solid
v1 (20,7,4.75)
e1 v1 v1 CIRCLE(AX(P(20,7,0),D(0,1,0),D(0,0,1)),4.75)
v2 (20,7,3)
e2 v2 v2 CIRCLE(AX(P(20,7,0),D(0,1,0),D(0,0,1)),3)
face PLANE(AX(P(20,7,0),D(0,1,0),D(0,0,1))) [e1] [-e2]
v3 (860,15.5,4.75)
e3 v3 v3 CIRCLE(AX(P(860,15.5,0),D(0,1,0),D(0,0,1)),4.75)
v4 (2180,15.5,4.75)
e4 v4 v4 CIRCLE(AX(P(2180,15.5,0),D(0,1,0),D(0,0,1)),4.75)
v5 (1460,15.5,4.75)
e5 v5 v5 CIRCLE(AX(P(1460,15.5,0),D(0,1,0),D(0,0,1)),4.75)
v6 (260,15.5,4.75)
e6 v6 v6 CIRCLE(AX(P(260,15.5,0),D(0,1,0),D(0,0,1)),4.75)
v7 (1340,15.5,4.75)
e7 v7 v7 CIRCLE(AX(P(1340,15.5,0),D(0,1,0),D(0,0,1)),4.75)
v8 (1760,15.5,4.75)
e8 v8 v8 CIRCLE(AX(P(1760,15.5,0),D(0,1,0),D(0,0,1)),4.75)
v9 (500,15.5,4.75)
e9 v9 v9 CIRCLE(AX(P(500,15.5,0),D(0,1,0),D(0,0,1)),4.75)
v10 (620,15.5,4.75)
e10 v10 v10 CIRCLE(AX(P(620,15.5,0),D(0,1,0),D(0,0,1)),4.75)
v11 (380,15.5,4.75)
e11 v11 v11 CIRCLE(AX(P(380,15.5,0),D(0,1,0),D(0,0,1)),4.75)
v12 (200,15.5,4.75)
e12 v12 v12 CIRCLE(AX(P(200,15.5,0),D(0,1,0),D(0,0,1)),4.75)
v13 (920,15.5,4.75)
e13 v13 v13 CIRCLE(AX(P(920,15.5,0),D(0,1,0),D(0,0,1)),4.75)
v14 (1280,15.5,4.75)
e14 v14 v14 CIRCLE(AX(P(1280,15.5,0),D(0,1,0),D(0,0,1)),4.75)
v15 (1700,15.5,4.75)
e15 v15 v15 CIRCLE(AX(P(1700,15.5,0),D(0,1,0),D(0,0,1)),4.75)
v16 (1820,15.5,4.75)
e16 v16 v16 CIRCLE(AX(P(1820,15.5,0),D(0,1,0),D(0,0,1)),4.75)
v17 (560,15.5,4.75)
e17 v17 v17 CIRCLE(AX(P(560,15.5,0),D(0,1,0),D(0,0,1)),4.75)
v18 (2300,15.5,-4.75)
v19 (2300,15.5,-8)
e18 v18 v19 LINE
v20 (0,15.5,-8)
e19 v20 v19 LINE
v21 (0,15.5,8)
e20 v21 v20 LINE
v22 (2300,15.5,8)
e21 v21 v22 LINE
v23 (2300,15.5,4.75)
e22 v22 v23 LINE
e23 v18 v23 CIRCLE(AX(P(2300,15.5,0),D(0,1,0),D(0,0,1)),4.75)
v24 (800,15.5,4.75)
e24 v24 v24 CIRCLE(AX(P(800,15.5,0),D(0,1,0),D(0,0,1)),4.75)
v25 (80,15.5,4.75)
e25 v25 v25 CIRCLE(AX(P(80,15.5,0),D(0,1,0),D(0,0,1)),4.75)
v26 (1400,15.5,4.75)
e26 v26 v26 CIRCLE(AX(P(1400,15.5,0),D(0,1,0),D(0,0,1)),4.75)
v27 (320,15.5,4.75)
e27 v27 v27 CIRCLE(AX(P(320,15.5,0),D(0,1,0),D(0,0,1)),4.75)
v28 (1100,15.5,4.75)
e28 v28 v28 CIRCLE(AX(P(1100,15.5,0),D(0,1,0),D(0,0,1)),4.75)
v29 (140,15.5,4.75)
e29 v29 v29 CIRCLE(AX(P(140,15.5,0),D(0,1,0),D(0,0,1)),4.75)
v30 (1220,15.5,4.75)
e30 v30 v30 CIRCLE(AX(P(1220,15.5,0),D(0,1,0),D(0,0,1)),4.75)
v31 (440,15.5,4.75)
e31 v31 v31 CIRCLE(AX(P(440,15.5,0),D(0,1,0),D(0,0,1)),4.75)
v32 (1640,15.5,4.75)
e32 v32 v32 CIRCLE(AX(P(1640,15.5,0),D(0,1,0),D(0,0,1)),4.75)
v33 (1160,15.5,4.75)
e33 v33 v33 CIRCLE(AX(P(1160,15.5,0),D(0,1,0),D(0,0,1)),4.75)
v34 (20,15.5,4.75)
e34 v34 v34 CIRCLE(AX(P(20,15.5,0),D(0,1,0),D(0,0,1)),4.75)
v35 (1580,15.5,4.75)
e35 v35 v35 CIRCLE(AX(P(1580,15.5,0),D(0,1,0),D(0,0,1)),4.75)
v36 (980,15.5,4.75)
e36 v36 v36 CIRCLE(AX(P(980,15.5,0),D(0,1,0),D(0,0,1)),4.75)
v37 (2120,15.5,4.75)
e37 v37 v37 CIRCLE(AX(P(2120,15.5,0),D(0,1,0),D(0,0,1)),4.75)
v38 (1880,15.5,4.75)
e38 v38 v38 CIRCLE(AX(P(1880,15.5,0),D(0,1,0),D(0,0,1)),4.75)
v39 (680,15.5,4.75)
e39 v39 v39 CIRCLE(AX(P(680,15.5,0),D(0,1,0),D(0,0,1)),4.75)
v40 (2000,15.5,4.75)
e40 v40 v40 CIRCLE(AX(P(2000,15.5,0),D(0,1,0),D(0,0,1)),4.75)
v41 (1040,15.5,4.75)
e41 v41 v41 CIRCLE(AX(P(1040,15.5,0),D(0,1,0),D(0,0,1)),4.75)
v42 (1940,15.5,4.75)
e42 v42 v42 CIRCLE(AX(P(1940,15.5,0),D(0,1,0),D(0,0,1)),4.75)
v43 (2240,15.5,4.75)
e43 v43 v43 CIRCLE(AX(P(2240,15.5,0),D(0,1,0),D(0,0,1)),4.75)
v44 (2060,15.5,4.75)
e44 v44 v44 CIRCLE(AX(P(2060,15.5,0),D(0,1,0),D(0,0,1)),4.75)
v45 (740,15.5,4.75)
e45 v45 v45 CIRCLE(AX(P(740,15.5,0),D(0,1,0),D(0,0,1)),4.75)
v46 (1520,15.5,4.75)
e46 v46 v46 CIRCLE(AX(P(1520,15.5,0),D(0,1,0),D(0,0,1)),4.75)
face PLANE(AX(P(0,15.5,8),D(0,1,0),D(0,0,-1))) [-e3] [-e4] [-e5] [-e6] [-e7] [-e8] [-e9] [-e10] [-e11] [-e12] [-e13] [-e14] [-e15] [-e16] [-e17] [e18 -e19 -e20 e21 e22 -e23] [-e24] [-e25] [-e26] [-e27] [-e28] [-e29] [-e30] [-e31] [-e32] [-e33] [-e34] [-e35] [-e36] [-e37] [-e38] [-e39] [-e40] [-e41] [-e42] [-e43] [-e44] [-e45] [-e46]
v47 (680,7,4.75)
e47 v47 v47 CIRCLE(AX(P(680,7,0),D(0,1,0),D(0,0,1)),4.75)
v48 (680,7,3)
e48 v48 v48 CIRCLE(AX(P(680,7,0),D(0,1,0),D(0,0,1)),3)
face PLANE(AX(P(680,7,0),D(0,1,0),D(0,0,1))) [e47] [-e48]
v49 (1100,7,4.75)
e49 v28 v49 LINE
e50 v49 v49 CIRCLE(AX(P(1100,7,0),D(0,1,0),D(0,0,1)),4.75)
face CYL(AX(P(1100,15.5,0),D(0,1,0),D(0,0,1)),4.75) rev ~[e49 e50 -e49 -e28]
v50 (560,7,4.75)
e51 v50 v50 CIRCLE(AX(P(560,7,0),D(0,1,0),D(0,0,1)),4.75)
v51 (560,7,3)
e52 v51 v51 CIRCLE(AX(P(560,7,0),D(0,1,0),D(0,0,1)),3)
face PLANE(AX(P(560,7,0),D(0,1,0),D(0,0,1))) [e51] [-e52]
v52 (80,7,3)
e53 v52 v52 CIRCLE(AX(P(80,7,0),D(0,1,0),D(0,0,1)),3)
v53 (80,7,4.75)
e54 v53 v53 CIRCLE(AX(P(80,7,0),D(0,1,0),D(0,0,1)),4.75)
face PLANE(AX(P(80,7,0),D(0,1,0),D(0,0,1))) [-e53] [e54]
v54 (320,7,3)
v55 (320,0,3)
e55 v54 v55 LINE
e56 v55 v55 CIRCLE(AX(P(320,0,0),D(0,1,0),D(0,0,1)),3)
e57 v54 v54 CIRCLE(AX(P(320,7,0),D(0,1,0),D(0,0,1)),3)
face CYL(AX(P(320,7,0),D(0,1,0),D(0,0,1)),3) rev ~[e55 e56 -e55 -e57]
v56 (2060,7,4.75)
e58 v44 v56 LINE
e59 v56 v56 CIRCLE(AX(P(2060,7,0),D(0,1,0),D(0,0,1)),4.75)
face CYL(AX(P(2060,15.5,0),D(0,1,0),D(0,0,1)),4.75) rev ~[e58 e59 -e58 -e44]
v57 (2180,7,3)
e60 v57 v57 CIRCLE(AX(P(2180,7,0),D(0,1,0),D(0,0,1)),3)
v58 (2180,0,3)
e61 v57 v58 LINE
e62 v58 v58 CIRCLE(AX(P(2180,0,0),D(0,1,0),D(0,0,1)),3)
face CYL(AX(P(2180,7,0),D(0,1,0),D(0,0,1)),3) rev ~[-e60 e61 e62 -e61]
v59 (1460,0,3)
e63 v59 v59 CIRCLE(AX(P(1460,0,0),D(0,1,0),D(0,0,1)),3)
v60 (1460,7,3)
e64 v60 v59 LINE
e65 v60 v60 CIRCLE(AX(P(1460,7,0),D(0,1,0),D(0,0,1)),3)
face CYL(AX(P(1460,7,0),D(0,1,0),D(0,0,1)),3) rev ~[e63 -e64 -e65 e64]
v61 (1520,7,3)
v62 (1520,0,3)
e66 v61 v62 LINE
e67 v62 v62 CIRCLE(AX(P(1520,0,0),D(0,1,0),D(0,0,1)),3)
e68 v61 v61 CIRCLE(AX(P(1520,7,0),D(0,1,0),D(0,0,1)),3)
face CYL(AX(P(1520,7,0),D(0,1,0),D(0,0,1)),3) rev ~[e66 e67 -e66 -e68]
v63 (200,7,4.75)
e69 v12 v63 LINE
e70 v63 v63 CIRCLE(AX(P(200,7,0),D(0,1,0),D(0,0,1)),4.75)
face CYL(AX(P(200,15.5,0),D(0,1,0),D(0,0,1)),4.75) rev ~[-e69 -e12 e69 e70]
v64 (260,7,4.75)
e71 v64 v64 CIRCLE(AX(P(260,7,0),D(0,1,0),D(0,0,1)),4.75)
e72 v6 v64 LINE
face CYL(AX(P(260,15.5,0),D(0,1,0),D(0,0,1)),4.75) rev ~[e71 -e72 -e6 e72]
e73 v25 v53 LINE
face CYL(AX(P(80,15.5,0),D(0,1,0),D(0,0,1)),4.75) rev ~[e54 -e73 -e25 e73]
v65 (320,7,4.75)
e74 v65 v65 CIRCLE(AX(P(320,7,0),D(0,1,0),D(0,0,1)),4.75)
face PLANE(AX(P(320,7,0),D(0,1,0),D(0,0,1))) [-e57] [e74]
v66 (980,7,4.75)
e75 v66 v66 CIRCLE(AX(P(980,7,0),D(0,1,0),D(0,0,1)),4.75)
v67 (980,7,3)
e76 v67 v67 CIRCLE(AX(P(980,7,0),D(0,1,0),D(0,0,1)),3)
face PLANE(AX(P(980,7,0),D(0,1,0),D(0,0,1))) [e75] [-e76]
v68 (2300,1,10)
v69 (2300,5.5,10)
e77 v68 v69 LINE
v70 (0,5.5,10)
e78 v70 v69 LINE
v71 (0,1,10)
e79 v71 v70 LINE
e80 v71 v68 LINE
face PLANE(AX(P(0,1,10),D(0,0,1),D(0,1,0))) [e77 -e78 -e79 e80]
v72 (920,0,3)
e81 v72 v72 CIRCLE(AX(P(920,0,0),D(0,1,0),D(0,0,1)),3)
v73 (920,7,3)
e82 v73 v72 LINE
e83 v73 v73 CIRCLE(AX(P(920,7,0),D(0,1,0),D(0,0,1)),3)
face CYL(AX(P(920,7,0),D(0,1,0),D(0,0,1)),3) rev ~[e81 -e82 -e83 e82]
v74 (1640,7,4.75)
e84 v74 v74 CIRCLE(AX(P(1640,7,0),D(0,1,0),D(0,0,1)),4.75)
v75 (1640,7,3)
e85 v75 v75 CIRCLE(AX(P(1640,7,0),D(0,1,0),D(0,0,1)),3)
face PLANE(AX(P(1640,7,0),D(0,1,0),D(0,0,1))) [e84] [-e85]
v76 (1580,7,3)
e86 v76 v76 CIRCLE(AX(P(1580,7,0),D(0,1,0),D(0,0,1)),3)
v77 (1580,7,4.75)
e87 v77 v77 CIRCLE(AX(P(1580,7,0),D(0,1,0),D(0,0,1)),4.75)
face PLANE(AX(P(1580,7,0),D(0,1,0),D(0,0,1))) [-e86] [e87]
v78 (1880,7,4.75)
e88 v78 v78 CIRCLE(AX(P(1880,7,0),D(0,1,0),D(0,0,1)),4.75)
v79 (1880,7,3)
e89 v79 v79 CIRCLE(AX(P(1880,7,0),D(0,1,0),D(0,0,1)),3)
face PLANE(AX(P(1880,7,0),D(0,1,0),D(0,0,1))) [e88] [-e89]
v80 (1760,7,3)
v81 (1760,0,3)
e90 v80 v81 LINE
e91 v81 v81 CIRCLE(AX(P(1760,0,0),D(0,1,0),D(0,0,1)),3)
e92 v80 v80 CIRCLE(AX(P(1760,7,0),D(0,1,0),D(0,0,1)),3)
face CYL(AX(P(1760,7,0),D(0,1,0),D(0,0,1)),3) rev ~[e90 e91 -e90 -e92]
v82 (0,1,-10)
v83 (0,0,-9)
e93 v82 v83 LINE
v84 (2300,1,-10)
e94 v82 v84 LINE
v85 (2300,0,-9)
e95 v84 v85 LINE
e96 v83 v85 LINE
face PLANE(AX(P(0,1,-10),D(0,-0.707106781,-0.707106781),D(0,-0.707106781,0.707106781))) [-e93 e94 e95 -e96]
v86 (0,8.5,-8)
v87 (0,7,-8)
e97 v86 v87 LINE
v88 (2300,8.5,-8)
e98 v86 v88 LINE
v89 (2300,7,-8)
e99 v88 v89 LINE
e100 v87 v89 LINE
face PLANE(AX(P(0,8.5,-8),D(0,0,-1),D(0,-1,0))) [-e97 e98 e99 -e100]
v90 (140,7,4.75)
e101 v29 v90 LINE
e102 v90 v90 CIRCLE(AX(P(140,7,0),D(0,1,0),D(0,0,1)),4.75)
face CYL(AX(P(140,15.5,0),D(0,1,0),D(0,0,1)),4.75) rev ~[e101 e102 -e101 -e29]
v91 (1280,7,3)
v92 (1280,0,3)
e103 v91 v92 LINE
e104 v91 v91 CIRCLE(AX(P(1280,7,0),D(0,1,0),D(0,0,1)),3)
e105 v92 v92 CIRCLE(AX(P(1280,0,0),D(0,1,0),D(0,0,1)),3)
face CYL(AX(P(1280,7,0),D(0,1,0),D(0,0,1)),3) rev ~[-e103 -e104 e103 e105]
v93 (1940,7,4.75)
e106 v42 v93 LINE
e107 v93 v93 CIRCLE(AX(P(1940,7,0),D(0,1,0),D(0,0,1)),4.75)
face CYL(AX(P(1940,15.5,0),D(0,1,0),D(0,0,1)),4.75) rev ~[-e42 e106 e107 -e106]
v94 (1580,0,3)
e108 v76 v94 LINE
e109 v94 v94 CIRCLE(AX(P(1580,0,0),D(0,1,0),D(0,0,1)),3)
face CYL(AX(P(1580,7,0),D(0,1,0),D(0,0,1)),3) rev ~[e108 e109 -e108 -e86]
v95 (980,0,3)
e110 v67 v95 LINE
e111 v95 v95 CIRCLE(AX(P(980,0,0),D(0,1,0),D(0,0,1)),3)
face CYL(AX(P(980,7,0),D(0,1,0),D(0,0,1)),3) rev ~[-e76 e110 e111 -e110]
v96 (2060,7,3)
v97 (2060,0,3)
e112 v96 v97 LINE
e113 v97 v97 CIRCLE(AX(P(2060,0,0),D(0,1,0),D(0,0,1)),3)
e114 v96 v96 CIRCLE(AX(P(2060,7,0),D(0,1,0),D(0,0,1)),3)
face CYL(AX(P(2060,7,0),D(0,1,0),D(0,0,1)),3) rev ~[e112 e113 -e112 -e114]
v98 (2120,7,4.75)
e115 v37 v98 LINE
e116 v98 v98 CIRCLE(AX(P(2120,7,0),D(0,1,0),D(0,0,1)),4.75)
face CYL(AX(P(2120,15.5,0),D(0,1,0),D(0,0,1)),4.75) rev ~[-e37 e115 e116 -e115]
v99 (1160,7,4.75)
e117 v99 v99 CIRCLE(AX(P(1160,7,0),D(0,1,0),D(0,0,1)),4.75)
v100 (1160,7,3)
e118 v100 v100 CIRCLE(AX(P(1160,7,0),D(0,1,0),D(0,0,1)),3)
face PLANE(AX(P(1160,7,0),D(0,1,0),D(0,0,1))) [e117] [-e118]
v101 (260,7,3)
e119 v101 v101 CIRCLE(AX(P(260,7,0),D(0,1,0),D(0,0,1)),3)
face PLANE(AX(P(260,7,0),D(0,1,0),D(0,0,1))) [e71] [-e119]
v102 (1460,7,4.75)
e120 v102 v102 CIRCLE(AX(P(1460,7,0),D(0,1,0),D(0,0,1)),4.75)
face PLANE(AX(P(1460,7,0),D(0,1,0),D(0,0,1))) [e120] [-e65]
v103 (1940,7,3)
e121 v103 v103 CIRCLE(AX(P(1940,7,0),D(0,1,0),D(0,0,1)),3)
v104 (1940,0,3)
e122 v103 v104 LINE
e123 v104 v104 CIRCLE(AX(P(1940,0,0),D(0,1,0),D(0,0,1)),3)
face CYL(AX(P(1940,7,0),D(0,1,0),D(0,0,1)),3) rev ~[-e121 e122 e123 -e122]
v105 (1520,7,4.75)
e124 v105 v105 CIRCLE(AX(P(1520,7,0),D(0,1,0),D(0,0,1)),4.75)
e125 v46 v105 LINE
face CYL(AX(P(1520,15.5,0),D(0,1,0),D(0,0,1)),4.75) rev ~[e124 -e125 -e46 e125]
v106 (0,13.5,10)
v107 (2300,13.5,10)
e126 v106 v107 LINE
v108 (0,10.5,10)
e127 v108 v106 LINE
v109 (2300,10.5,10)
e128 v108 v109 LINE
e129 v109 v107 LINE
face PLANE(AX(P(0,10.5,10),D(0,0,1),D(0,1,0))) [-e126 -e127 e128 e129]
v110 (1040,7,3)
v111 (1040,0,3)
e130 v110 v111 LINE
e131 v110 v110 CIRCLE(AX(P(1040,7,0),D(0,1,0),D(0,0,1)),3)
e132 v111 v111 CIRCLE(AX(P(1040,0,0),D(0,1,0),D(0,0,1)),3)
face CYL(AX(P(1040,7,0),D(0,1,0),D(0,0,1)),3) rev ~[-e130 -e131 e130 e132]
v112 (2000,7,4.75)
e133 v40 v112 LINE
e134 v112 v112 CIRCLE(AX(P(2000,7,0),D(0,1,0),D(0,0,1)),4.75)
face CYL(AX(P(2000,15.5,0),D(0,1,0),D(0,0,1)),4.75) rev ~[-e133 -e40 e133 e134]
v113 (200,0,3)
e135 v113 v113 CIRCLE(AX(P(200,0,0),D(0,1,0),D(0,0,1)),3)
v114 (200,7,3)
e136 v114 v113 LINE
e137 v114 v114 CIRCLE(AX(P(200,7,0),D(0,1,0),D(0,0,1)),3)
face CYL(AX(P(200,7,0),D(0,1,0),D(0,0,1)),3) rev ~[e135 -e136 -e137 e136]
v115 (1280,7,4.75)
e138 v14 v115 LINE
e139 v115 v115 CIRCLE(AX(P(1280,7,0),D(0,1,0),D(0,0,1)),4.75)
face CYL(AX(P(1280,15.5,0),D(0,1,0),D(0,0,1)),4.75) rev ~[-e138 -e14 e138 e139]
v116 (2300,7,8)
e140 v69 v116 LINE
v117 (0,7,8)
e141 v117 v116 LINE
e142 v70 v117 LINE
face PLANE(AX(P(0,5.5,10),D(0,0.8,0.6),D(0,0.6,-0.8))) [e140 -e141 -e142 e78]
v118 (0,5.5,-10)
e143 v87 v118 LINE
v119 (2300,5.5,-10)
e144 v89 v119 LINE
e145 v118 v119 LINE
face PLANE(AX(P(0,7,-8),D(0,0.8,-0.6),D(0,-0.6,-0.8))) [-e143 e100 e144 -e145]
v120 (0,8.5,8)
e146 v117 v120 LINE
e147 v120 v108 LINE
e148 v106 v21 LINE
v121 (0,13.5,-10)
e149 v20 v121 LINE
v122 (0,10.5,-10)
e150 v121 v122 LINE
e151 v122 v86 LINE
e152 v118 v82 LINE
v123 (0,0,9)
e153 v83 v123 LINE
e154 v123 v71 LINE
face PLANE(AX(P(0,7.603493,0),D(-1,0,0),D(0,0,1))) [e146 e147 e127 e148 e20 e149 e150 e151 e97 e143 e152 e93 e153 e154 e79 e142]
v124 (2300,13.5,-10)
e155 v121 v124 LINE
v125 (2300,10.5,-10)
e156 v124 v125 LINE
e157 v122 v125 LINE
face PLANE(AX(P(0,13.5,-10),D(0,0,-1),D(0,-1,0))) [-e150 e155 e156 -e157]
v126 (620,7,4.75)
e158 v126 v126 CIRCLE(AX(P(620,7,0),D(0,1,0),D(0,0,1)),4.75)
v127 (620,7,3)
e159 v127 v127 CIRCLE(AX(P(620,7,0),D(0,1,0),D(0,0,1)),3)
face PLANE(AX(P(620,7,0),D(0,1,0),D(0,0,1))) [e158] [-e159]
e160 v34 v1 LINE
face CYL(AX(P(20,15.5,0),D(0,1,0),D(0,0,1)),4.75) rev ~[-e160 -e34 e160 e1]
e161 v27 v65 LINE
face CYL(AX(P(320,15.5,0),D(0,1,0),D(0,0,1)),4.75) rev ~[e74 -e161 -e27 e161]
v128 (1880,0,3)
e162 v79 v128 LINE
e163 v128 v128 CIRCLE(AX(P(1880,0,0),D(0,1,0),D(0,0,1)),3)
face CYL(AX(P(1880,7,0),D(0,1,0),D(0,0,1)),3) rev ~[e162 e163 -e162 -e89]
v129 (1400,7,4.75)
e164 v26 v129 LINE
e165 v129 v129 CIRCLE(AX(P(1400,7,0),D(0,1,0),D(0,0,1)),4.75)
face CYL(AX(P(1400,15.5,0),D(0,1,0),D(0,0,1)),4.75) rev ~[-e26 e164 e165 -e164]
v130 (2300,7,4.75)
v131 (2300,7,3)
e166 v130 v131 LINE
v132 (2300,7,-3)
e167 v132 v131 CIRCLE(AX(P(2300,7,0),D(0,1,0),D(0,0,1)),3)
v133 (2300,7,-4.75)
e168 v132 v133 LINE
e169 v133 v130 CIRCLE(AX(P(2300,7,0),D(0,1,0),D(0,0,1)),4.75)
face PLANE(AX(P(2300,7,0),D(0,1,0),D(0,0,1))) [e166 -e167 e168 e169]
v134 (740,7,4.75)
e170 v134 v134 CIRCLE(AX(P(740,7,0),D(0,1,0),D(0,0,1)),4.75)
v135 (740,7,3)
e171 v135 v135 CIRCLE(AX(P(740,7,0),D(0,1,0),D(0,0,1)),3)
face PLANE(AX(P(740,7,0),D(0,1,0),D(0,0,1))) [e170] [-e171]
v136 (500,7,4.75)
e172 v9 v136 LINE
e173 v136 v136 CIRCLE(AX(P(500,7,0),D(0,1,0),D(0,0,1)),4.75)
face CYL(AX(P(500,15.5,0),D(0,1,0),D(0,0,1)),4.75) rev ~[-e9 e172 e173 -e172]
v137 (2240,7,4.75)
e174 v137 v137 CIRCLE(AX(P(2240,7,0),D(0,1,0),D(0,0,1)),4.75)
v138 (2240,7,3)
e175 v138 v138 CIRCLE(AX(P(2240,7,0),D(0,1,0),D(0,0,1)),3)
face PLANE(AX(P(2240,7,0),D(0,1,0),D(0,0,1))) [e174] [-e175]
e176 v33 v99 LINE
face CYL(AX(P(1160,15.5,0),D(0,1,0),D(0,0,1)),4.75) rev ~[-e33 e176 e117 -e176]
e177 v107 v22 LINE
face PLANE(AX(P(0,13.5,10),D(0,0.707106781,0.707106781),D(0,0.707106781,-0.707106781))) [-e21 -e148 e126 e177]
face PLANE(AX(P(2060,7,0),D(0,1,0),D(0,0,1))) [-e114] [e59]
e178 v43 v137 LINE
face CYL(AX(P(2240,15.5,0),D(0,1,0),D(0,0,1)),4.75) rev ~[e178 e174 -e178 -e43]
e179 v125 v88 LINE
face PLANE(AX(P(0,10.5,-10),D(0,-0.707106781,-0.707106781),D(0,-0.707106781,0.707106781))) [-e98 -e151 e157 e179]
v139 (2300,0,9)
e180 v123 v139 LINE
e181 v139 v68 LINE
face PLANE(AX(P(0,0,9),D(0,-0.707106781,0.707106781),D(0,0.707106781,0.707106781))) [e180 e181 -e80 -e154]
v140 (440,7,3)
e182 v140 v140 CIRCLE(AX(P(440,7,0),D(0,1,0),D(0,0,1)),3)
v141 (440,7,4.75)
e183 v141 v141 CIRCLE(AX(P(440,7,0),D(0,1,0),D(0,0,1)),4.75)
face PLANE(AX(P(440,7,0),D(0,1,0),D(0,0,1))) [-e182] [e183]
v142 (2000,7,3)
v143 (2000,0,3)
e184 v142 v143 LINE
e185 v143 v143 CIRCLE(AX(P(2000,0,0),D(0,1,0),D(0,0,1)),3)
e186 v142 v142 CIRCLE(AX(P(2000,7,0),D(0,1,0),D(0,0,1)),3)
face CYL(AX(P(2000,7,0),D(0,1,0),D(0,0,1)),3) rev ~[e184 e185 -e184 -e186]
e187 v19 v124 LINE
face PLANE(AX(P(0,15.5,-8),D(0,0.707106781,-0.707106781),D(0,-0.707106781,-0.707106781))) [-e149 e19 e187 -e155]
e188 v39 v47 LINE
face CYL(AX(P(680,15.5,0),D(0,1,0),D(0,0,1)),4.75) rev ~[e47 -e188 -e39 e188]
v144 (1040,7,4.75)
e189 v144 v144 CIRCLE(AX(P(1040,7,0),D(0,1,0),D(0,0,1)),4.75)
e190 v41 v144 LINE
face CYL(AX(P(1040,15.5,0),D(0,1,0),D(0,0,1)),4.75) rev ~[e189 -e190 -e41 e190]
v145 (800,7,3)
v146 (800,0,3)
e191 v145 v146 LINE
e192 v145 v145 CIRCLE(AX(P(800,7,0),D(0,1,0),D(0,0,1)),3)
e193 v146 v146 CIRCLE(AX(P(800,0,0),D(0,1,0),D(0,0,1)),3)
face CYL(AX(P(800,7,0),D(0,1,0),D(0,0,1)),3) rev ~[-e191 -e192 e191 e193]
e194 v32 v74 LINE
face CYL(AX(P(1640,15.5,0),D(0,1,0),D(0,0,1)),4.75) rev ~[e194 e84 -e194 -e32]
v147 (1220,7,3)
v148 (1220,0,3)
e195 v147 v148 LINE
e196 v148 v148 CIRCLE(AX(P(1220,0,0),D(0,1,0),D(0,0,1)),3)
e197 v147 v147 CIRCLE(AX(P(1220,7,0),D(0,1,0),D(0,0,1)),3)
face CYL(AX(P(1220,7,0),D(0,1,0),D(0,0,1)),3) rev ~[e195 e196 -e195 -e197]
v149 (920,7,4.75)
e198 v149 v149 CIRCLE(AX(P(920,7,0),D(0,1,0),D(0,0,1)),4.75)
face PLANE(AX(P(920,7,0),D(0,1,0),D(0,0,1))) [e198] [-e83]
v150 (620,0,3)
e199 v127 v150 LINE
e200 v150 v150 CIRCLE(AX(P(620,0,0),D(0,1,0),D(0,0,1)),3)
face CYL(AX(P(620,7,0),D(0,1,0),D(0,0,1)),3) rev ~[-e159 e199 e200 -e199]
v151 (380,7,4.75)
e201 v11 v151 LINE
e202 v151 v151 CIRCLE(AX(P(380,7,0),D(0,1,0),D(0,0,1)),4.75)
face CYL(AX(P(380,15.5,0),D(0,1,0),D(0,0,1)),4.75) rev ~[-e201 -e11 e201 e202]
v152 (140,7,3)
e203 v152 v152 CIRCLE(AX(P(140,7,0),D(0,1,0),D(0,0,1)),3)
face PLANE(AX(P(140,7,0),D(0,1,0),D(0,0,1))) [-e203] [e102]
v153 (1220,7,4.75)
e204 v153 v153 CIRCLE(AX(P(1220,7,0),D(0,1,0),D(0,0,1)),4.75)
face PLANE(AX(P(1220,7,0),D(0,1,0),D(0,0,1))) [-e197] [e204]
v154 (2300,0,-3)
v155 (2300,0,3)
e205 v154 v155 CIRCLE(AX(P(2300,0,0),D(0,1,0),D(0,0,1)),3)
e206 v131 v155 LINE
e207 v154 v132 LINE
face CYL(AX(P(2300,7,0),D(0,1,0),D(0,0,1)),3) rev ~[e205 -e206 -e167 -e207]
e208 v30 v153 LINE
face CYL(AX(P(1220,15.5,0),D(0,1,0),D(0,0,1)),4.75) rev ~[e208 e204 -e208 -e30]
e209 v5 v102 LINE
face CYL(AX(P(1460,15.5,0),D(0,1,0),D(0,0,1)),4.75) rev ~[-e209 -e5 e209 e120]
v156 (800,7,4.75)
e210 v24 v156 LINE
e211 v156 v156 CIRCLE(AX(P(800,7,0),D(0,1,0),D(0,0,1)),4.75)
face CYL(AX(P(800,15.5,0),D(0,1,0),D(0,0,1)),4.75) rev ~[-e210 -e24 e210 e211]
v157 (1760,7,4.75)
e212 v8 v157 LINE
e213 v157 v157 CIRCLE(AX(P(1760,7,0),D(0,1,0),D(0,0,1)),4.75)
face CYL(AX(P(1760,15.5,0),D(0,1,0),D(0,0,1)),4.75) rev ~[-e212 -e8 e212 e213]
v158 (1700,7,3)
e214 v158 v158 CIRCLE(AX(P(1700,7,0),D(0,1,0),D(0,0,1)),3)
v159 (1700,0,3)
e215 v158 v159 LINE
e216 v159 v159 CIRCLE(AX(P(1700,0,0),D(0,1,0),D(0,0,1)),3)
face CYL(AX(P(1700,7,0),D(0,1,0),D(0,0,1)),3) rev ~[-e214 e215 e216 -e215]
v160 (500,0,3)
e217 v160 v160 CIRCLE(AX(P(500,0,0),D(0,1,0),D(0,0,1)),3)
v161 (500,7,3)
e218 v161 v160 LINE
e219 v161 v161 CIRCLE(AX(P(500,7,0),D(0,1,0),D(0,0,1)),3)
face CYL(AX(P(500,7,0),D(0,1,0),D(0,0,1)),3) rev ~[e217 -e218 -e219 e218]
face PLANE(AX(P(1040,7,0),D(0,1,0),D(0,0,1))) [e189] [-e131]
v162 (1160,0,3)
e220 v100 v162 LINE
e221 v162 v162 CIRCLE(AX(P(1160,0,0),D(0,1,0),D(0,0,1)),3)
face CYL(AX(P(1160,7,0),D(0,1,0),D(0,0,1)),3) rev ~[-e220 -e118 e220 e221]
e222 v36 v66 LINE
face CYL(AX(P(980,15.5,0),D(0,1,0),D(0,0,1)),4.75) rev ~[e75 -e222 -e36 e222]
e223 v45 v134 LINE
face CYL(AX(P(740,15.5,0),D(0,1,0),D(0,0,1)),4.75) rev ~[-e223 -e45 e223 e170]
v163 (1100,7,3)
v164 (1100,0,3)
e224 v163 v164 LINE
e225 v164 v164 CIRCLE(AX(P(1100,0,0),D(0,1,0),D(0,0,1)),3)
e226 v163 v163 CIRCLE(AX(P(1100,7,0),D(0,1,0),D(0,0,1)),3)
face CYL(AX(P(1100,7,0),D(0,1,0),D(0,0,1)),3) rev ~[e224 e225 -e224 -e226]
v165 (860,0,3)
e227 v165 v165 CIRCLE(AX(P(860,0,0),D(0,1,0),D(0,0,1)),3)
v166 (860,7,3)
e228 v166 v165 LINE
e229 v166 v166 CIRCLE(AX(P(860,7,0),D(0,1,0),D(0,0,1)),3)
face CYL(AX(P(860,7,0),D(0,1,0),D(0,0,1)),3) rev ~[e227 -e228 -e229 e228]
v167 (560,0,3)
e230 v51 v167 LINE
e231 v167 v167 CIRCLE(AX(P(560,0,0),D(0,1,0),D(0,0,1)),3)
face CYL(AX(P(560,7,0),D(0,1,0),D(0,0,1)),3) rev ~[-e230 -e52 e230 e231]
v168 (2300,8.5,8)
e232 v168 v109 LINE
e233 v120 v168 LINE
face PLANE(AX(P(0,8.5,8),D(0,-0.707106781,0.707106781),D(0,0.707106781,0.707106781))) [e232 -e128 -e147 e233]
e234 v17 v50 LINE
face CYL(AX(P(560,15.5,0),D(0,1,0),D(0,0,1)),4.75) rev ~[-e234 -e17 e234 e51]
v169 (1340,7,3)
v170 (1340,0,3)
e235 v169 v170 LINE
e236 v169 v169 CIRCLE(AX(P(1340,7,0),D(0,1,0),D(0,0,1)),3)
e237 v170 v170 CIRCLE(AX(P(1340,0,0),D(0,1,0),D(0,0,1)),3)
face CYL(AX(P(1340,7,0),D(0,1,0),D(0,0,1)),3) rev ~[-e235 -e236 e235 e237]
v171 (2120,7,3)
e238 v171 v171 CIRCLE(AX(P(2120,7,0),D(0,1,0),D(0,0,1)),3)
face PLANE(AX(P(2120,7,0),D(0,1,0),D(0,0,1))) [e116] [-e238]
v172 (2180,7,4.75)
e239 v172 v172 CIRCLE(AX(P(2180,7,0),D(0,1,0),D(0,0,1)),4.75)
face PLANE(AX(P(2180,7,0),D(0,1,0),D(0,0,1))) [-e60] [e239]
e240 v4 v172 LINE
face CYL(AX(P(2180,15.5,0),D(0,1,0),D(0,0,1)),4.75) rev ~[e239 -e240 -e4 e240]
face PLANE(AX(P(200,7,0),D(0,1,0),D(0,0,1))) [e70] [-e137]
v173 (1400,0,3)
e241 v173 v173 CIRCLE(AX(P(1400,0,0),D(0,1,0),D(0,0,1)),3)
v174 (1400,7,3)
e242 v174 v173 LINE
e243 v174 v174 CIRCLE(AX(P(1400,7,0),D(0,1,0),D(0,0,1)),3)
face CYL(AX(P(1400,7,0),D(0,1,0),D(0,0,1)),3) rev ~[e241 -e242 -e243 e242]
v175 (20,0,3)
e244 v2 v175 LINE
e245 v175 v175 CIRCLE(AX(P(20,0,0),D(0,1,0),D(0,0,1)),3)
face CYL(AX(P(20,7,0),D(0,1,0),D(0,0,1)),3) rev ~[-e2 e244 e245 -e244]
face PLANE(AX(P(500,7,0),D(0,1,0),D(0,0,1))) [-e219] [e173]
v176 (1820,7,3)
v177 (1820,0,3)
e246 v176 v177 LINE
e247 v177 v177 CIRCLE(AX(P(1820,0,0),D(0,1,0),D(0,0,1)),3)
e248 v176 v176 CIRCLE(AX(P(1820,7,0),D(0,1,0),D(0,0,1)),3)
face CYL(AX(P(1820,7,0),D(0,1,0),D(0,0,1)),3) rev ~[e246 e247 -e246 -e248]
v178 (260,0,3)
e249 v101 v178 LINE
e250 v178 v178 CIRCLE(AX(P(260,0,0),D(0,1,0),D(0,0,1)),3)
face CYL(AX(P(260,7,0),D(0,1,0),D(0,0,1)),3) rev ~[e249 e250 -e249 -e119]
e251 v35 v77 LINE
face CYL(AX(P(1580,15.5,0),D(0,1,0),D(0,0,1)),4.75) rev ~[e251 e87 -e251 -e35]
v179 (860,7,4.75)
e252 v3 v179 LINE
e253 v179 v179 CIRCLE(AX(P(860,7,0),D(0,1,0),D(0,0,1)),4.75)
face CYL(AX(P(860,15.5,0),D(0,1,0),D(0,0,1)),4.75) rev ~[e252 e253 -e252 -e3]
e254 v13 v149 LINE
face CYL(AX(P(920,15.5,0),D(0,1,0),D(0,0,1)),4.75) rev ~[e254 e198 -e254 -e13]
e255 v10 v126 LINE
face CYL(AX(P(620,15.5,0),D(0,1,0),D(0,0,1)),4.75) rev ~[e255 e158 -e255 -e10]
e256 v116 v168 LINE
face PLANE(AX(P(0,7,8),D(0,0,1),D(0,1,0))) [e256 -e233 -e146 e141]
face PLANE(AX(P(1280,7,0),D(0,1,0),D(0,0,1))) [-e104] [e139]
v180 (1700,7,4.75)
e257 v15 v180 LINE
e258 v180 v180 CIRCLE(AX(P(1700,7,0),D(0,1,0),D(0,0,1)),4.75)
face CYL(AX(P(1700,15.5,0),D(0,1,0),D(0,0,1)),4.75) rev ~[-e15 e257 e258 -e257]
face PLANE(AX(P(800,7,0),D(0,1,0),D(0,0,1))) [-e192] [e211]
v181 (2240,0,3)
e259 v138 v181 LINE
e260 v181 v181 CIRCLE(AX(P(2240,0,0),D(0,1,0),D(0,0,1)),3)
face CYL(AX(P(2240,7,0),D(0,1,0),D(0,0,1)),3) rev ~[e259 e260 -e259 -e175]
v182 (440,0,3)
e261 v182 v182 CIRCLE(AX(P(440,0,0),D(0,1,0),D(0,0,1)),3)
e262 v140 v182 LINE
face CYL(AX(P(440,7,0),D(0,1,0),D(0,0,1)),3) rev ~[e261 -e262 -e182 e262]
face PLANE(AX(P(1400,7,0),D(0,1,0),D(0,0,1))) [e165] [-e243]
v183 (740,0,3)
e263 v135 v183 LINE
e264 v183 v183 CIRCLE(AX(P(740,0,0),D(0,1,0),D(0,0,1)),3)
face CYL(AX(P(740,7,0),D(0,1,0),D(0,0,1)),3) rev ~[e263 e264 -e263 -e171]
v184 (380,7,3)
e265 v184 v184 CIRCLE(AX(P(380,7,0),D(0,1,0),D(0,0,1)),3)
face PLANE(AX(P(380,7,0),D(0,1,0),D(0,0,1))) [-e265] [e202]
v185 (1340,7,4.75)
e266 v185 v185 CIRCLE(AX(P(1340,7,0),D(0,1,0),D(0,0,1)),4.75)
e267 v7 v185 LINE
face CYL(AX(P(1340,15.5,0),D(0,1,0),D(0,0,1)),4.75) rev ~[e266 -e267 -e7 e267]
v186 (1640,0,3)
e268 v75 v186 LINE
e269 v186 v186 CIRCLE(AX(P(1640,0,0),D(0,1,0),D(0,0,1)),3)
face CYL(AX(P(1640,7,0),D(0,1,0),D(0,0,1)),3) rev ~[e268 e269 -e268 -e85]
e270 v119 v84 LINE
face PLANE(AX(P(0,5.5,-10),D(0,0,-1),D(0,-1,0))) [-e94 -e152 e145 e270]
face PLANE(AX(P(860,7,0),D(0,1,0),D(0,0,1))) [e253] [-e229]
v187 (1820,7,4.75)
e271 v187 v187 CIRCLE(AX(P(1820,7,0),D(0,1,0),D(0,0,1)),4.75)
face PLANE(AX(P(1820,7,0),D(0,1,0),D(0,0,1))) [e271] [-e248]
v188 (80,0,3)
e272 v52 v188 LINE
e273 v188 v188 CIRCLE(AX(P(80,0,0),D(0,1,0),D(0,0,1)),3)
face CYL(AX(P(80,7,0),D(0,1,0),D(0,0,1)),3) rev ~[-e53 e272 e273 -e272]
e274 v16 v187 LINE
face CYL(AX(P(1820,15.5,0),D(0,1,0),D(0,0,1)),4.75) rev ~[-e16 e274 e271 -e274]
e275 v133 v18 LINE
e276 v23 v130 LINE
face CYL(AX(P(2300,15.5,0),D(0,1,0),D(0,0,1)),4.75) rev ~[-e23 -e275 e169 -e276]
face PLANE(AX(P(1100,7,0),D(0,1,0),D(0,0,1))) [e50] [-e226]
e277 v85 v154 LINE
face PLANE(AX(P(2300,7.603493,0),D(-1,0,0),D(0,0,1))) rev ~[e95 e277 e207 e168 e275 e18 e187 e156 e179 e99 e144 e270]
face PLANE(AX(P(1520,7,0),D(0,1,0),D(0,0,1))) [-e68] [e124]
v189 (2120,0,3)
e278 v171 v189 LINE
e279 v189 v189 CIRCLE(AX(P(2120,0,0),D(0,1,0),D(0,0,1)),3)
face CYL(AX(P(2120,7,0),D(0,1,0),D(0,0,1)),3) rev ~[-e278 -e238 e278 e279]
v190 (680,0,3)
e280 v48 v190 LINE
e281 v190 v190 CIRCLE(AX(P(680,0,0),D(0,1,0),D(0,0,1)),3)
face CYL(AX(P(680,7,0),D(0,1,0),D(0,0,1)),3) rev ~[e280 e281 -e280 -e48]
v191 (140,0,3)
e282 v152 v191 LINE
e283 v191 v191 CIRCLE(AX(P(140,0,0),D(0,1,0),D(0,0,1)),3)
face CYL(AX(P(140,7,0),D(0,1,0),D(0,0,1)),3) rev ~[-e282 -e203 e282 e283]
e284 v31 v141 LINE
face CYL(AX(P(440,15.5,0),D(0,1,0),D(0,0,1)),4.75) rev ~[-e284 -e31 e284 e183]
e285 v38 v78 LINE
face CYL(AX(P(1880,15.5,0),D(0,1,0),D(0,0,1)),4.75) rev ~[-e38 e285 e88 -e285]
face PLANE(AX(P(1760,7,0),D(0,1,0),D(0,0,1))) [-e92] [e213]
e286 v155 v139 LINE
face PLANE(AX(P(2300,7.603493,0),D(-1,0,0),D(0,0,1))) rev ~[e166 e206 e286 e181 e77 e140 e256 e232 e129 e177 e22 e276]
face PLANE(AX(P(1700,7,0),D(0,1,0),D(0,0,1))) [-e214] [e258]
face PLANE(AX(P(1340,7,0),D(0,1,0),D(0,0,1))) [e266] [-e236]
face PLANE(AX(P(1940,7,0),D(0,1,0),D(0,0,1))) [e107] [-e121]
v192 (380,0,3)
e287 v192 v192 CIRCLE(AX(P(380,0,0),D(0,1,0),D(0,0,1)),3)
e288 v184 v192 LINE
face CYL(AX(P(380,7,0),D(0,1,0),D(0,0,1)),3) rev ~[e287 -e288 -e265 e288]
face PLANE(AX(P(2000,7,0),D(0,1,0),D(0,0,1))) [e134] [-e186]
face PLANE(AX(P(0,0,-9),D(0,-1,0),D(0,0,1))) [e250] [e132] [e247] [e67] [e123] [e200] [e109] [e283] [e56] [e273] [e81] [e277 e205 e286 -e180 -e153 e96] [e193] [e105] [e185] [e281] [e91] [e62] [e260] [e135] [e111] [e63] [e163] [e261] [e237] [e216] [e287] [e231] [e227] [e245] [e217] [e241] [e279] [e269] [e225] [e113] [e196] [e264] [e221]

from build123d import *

# Parameters (mm, degrees)
BOSS_EXTRUDE1_DEPTH = 2300
SKETCH2_R           = 4.75
CUT_EXTRUDE1_DEPTH  = 8.5
SKETCH3_R           = 3
CUT_EXTRUDE2_DEPTH  = 2301.037445347
LPATTERN1_COUNT     = 40
LPATTERN1_PITCH     = 60


with BuildPart() as part:
    # Sketch1 → Boss-Extrude1 (new body)
    with BuildSketch(Plane(origin=(0, 0, 0), x_dir=(0, 0, -1), z_dir=(1, 0, 0))):
        Polygon((9, 0), (-9, 0), (-10, 1), (-10, 5.5), (-8, 7), (-8, 8.5), (-10, 10.5), (-10, 13.5), (-8, 15.5), (8, 15.5), (10, 13.5), (10, 10.5), (8, 8.5), (8, 7), (10, 5.5), (10, 1), align=None)
    extrude(amount=BOSS_EXTRUDE1_DEPTH)

    # Sketch2 → Cut-Extrude1 (cut)
    with BuildSketch(Plane(origin=(0, 15.5, 0), x_dir=(1, 0, 0), z_dir=(0, 1, 0))):
        with Locations(Location((20, 0, 0), (0, 0, 270))):
            Circle(SKETCH2_R)
    cut_extrude1 = extrude(amount=-CUT_EXTRUDE1_DEPTH, mode=Mode.SUBTRACT)

    # Sketch3 → Cut-Extrude2 (cut, through all)
    with BuildSketch(Plane(origin=(0, 7, 0), x_dir=(1, 0, 0), z_dir=(0, 1, 0))):
        with Locations(Location((20, 0, 0), (0, 0, 270))):
            Circle(SKETCH3_R)
    cut_extrude2 = extrude(amount=-CUT_EXTRUDE2_DEPTH, mode=Mode.SUBTRACT)

    # LPattern1: Cut-Extrude1, Cut-Extrude2 ×40
    with Locations(*[(i * LPATTERN1_PITCH, 0, 0) for i in range(1, LPATTERN1_COUNT)]):
        add(cut_extrude1, mode=Mode.SUBTRACT)
        add(cut_extrude2, mode=Mode.SUBTRACT)


solid = part.part
